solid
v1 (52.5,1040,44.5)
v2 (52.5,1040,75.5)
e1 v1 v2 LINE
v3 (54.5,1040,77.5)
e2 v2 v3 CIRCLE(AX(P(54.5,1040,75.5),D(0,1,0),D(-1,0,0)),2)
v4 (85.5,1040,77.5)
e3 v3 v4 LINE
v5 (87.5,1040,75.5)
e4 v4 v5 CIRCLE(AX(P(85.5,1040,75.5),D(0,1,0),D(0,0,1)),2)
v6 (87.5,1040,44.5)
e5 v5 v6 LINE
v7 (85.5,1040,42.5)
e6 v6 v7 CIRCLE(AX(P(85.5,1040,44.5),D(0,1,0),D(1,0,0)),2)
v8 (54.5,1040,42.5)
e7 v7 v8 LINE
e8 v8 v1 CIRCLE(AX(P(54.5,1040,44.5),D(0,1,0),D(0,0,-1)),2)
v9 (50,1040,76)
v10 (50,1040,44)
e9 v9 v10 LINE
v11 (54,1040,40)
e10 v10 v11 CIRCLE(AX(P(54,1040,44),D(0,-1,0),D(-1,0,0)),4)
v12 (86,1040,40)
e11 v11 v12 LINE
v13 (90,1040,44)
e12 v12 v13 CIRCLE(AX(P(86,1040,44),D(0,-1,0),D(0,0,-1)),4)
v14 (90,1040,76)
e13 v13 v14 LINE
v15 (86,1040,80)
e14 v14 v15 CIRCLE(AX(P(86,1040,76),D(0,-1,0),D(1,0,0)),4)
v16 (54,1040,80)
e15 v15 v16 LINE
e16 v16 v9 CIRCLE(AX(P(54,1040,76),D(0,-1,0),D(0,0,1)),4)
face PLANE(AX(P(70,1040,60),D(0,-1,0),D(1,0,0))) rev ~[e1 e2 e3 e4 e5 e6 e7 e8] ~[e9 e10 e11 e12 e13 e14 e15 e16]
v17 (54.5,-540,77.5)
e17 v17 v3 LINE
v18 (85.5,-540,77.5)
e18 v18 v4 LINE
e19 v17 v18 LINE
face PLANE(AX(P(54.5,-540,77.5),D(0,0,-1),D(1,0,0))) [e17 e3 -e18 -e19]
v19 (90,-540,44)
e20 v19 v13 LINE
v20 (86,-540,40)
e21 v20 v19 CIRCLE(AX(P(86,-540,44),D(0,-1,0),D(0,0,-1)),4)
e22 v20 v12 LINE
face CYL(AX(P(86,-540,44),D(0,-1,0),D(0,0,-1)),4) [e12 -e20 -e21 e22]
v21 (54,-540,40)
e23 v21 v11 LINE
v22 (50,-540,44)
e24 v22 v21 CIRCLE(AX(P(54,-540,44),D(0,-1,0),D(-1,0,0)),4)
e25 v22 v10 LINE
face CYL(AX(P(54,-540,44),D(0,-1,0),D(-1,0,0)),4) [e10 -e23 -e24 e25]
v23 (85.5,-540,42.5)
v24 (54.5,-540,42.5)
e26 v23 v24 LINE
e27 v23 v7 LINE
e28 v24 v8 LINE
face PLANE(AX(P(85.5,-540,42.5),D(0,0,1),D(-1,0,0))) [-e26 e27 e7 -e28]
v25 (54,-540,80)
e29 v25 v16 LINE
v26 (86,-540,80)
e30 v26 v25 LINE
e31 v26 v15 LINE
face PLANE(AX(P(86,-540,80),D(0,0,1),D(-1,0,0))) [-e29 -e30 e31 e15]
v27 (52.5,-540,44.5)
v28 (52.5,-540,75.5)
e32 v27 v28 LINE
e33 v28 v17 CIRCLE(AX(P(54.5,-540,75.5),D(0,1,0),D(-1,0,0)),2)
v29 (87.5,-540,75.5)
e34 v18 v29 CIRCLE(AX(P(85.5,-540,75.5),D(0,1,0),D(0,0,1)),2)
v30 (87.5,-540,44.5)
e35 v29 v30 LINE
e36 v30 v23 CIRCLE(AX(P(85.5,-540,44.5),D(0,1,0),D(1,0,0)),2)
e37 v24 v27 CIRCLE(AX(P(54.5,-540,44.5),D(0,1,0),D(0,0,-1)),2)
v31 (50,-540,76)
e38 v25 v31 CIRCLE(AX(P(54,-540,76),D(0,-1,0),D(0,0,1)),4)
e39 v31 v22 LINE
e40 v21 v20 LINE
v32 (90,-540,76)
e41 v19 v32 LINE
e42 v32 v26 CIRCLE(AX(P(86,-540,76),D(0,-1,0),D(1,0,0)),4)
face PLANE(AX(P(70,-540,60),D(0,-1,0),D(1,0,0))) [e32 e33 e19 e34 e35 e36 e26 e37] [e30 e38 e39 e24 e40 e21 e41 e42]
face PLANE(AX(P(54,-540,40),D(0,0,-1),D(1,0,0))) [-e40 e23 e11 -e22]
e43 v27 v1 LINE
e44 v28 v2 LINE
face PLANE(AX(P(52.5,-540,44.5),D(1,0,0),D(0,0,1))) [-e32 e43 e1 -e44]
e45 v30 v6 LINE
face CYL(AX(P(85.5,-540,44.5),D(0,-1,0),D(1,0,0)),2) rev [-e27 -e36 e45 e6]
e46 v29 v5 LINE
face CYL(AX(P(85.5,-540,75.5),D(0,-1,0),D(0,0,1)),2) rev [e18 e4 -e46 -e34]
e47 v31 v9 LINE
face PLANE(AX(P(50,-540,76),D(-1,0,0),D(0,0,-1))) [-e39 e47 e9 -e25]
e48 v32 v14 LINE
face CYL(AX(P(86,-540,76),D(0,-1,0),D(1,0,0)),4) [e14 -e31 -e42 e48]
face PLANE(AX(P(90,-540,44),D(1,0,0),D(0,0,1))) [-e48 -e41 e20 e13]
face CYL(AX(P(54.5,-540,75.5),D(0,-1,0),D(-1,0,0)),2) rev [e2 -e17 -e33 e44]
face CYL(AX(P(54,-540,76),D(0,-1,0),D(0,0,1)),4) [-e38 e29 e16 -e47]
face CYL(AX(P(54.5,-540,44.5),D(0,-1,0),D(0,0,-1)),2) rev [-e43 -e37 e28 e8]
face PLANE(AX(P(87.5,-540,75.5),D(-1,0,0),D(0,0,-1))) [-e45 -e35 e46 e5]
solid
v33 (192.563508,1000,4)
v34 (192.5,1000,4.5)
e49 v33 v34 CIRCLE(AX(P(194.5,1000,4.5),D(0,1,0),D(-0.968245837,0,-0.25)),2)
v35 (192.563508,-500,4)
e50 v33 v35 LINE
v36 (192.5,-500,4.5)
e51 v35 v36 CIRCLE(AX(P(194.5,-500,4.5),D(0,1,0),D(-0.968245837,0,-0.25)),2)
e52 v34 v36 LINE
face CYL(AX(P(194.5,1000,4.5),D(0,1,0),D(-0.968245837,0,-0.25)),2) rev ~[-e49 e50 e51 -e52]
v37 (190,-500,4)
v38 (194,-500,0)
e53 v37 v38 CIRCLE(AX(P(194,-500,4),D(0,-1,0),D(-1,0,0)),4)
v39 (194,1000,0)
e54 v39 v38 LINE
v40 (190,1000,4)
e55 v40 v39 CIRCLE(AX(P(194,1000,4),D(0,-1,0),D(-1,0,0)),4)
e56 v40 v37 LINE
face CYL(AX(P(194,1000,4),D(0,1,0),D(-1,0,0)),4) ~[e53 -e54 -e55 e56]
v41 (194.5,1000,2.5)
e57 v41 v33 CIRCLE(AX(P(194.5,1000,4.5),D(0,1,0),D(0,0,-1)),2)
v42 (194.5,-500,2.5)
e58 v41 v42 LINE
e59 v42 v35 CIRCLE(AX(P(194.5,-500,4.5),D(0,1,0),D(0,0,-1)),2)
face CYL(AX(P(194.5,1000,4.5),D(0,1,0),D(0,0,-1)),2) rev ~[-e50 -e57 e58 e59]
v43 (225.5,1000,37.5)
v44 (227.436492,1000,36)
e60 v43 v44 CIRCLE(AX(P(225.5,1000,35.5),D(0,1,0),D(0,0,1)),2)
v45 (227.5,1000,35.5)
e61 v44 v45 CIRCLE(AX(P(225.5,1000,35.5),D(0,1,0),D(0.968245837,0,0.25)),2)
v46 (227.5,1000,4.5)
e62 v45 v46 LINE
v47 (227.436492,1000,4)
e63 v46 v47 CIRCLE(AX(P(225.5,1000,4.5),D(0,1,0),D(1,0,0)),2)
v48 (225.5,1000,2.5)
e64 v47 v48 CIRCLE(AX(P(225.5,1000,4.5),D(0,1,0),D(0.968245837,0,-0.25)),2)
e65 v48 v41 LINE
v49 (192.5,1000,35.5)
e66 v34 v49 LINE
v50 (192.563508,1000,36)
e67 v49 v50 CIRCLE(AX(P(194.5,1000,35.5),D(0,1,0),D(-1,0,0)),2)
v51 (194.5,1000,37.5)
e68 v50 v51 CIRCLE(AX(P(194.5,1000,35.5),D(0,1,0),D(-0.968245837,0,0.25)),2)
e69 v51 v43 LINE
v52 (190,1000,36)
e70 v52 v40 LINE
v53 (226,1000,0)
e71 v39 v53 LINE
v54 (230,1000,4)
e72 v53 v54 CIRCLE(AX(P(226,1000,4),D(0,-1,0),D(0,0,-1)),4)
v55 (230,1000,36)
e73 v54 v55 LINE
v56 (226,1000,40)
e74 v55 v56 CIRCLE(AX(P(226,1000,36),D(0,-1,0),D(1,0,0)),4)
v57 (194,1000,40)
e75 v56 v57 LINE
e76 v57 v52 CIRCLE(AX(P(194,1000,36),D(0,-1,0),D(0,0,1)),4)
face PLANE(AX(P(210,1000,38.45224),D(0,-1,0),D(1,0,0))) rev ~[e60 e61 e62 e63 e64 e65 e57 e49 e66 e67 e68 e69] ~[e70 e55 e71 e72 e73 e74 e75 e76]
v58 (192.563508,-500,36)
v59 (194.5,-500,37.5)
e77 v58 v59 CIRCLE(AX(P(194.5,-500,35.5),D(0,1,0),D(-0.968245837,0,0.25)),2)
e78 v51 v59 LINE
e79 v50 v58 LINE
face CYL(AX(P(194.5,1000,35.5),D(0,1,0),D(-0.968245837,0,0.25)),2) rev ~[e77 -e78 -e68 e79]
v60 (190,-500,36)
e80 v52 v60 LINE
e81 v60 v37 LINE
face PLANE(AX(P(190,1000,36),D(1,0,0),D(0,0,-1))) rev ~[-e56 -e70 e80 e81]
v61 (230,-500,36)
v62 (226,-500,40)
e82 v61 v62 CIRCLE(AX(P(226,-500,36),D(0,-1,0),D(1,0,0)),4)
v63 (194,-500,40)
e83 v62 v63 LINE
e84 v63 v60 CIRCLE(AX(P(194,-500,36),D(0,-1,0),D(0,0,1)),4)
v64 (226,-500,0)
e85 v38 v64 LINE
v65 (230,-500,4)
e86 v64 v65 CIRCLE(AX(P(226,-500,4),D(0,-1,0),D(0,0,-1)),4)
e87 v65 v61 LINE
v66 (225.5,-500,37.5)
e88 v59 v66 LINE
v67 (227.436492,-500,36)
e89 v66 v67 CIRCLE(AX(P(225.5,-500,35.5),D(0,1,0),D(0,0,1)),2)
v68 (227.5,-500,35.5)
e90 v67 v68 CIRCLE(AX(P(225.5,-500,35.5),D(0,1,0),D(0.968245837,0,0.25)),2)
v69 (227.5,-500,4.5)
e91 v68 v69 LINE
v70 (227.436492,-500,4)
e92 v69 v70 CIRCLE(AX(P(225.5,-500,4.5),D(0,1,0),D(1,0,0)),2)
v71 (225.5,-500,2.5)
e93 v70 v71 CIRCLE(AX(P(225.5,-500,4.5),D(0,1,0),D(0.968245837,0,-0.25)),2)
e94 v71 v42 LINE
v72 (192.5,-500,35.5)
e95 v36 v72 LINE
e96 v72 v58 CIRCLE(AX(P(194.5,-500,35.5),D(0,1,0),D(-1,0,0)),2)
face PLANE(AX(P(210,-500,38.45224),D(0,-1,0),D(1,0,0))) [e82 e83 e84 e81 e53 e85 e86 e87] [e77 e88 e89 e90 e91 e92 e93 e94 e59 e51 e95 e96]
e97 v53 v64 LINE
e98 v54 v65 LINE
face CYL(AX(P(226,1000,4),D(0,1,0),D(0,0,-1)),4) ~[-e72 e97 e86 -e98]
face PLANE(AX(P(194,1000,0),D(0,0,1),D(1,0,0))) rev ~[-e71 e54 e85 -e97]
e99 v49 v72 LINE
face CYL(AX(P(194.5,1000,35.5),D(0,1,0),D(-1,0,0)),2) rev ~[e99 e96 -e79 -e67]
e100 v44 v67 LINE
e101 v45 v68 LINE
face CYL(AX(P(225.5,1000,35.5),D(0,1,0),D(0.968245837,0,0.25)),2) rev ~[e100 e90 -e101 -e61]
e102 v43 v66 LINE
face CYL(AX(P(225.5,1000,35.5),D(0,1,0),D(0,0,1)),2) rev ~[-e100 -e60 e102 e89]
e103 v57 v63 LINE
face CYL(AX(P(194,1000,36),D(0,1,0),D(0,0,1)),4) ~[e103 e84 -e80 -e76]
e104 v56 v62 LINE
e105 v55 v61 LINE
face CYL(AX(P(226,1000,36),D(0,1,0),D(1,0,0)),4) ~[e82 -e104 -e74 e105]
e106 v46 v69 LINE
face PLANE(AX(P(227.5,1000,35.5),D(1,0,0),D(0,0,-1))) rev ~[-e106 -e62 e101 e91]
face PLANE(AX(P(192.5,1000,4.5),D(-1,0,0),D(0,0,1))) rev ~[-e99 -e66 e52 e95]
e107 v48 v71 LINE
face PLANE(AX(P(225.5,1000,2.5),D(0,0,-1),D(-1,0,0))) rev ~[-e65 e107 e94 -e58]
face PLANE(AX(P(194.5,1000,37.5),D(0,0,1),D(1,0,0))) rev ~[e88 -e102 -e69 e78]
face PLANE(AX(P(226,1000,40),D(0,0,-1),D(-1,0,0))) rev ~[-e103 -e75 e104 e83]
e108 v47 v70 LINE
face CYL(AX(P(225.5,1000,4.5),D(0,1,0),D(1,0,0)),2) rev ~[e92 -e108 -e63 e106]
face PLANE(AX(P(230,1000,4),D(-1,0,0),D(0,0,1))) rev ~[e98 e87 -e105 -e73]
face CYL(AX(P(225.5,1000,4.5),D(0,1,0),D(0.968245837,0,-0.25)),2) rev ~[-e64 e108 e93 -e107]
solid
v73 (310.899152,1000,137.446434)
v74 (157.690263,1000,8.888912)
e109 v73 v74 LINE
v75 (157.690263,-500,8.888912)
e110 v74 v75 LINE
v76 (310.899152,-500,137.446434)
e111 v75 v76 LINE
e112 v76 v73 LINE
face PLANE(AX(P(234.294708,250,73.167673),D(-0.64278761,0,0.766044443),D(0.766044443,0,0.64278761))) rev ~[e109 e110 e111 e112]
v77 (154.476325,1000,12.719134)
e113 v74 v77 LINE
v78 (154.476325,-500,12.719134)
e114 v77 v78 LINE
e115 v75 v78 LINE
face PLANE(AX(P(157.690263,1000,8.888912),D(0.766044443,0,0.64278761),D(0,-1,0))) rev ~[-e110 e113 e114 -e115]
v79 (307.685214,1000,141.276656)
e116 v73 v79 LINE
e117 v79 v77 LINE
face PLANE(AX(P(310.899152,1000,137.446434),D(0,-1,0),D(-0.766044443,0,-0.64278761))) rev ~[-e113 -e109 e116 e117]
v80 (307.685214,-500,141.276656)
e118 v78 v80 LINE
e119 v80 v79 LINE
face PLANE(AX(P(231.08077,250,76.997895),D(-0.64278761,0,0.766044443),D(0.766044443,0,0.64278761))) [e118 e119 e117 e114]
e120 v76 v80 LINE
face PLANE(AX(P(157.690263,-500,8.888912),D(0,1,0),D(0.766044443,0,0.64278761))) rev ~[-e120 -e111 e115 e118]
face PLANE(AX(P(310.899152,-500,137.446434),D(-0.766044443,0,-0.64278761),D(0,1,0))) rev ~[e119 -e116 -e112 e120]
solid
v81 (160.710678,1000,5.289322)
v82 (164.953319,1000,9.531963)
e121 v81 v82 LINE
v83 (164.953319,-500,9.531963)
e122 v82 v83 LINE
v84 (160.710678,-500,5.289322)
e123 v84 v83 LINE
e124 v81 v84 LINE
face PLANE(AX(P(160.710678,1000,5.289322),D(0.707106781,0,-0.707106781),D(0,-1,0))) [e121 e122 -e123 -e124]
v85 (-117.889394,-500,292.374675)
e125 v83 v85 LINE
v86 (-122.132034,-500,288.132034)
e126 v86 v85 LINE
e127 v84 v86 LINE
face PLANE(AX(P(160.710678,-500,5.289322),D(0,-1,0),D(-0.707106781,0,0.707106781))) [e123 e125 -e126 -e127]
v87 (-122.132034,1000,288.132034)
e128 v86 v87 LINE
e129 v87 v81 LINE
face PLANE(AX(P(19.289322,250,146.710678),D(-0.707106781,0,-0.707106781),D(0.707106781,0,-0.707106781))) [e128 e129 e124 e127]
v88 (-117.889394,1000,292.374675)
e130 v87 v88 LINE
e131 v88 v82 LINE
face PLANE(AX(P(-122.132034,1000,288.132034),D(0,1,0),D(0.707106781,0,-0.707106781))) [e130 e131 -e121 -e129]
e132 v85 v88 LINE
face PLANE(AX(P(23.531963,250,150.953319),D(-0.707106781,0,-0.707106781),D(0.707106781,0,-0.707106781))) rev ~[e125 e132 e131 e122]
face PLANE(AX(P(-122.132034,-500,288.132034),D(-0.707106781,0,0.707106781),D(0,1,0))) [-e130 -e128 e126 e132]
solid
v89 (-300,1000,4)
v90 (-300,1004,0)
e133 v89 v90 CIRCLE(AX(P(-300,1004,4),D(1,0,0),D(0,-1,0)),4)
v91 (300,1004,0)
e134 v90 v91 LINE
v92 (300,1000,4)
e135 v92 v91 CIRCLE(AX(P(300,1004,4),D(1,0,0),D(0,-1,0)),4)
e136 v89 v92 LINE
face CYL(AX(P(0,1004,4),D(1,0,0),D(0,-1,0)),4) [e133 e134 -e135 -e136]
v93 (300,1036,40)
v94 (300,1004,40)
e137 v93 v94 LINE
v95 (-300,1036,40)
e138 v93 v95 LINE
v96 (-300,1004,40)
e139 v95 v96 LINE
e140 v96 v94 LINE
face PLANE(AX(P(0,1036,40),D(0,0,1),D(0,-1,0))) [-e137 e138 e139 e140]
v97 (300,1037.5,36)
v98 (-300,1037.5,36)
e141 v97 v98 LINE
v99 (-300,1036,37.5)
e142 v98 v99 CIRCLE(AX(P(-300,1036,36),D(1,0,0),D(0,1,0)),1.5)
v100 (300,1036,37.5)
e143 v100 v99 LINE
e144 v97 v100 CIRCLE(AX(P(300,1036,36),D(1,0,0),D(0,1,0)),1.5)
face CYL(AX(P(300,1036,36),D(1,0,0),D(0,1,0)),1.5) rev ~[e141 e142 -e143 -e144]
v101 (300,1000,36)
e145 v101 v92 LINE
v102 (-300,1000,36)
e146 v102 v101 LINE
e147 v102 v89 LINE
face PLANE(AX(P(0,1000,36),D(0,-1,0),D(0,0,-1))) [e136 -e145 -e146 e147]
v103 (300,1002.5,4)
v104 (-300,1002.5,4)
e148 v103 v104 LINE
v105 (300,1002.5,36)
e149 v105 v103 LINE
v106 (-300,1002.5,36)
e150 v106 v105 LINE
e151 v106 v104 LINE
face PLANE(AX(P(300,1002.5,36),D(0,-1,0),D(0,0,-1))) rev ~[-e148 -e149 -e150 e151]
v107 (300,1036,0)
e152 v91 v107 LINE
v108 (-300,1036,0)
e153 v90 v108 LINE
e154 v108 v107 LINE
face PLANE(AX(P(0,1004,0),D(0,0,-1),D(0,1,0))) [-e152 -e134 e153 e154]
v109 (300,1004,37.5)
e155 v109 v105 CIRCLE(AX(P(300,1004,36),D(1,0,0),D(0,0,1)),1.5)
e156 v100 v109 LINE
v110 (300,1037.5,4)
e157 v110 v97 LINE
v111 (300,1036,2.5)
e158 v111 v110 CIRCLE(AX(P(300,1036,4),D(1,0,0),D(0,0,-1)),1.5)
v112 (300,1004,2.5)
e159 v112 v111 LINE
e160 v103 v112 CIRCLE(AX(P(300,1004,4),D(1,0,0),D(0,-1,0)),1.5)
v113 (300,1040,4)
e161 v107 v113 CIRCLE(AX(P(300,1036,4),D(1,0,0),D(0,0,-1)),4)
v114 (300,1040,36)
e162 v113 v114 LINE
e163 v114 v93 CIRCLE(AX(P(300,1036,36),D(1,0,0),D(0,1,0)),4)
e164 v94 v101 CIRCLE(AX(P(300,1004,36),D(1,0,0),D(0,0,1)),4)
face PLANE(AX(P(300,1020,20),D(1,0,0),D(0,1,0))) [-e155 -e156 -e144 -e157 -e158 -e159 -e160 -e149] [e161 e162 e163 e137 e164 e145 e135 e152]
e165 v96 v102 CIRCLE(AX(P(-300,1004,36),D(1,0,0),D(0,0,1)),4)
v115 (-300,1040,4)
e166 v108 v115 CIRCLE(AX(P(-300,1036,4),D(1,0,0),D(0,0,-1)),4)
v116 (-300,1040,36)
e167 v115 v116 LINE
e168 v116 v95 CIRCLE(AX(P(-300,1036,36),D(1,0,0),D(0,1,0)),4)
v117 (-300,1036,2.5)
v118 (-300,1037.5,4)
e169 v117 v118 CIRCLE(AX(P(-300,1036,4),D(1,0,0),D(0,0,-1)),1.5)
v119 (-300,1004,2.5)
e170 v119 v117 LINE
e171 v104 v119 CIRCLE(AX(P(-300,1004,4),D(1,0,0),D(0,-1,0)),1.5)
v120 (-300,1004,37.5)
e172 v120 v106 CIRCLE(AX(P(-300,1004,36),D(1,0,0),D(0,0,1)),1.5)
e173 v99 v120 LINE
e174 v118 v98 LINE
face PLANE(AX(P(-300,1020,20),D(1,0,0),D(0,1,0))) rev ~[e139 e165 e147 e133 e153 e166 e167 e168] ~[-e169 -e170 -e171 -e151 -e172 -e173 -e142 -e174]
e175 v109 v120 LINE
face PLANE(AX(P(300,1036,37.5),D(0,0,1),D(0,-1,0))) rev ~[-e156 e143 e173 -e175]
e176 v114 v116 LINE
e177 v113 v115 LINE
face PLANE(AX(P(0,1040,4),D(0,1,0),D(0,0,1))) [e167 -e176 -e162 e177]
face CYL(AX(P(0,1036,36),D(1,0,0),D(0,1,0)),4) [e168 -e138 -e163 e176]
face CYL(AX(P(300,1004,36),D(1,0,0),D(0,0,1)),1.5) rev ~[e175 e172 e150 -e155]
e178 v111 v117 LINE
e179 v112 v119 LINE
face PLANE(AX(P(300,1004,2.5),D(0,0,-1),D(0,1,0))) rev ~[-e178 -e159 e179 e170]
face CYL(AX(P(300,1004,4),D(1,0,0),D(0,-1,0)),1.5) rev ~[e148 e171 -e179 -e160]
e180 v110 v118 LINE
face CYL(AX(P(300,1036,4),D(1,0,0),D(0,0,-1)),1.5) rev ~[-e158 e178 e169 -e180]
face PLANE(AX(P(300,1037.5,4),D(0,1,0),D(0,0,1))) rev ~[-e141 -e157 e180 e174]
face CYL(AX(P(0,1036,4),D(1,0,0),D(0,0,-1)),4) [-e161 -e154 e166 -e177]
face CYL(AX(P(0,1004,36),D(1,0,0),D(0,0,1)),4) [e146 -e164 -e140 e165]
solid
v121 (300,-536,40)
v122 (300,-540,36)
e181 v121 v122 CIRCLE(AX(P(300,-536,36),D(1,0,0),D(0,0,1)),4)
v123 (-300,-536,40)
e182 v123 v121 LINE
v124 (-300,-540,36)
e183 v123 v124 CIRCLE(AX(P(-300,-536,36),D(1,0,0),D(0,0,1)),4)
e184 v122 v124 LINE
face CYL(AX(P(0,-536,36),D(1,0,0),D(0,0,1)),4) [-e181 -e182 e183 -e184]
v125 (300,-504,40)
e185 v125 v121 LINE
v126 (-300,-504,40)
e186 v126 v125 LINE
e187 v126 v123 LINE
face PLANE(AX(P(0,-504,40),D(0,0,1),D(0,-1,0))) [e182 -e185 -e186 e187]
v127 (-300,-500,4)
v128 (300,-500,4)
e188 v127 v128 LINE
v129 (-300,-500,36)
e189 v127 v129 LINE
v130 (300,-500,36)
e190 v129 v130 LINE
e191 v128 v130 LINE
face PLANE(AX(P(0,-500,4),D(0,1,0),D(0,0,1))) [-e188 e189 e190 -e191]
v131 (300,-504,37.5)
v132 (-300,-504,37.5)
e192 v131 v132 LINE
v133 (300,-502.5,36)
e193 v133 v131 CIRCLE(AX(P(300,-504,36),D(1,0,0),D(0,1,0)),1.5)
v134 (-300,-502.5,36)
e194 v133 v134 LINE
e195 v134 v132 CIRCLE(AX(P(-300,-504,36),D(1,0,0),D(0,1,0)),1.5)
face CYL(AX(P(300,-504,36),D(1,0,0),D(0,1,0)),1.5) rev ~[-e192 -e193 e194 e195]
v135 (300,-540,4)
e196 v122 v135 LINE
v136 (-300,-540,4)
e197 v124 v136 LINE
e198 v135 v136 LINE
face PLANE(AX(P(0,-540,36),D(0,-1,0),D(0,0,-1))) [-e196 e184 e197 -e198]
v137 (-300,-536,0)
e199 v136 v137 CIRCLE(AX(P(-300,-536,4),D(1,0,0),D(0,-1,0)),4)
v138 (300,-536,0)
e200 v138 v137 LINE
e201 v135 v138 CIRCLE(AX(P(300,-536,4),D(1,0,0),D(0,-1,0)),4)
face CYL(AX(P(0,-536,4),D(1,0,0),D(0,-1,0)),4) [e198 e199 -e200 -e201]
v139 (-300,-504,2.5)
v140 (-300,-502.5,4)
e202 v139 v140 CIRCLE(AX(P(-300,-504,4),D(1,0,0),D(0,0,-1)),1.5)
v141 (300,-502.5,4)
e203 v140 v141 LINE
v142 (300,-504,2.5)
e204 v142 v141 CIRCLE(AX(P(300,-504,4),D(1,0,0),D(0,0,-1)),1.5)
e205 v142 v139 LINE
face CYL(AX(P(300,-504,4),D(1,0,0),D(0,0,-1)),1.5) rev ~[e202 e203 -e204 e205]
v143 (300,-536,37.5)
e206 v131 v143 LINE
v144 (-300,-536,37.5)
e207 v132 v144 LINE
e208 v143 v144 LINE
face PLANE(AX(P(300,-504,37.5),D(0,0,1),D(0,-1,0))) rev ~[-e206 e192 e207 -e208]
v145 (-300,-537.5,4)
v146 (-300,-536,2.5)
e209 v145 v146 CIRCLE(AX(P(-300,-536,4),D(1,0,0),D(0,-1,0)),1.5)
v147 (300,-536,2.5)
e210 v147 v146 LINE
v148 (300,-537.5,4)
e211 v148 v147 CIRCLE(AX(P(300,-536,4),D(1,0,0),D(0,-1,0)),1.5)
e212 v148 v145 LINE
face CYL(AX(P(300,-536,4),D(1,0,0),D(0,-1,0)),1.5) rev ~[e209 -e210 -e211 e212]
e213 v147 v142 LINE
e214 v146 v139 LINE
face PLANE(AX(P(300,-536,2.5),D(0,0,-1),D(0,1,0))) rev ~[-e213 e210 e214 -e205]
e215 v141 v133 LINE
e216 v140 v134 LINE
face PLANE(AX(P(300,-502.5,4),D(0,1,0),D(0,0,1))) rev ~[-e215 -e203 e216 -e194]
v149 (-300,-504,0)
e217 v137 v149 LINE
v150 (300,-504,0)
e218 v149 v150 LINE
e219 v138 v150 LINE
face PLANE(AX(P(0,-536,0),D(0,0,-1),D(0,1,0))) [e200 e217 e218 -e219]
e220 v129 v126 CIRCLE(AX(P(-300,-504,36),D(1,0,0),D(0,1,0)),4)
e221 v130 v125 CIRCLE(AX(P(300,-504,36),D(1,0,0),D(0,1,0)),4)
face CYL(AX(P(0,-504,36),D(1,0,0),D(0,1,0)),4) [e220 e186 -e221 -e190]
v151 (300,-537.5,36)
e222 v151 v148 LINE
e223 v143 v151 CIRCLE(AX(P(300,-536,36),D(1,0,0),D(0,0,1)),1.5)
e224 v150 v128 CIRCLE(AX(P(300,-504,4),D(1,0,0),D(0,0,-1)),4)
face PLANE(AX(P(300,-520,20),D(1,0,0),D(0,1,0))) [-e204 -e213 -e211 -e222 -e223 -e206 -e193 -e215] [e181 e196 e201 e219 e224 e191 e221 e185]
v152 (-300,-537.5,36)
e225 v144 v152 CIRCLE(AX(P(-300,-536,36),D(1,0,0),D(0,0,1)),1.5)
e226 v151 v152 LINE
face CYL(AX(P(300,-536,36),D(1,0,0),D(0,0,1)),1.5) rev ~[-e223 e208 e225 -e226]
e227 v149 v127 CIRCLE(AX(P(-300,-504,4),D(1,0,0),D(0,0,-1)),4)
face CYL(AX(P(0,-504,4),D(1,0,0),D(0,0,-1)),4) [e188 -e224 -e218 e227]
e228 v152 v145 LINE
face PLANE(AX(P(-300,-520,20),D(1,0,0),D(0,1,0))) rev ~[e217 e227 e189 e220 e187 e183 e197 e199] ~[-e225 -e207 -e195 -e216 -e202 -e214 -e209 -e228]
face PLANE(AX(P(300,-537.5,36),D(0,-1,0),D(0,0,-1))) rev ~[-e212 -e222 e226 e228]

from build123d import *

# Parameters (mm, degrees)
F1_DEPTH  = 300
F2_T      = -2.5
F2_2_T    = -2.5
F4_DEPTH  = 1000
F6_DEPTH  = 1580
F8_DEPTH  = 1500
F13_DEPTH = 6
F14_DEPTH = 5


with BuildPart() as f1:
    # F0 (on Right) → F1 (new body, symmetric)
    with BuildSketch(Plane.YZ):
        with BuildLine():
            Line((-536, 0), (-504, 0))
            ThreePointArc((-504, 0), (-501.1715728753, 1.1715728753), (-500, 4))
            Line((-500, 4), (-500, 36))
            ThreePointArc((-500, 36), (-501.1715728753, 38.8284271247), (-504, 40))
            Line((-504, 40), (-536, 40))
            ThreePointArc((-536, 40), (-538.8284271247, 38.8284271247), (-540, 36))
            Line((-540, 36), (-540, 4))
            ThreePointArc((-540, 4), (-538.8284271247, 1.1715728753), (-536, 0))
        make_face()
    extrude(amount=F1_DEPTH, both=True)

    # F2
    f2_openings = [f1.faces().sort_by_distance(p)[0] for p in [
        (300, -520, 20),
    ]]
    offset(amount=F2_T, openings=f2_openings)


with BuildPart() as f1b:
    # F0 (on Right) → F1, piece 2 (new body, symmetric)
    with BuildSketch(Plane.YZ):
        with BuildLine():
            Line((1036, 40), (1004, 40))
            ThreePointArc((1004, 40), (1001.1715728753, 38.8284271247), (1000, 36))
            Line((1000, 36), (1000, 4))
            ThreePointArc((1000, 4), (1001.1715728753, 1.1715728753), (1004, 0))
            Line((1004, 0), (1036, 0))
            ThreePointArc((1036, 0), (1038.8284271247, 1.1715728753), (1040, 4))
            Line((1040, 4), (1040, 36))
            ThreePointArc((1040, 36), (1038.8284271247, 38.8284271247), (1036, 40))
        make_face()
    extrude(amount=F1_DEPTH, both=True)

    # F2#2
    f2_2_openings = [f1b.faces().sort_by_distance(p)[0] for p in [
        (300, 1020, 20),
    ]]
    offset(amount=F2_2_T, openings=f2_2_openings)


with BuildPart() as f4_tool:
    # F3 (on face) → F4 (new body)
    with BuildSketch(Plane.YZ.offset(300)):
        with BuildLine():
            Line((1002.5, 36), (1002.5, 4))
            ThreePointArc((1002.5, 4), (1002.9393398282, 2.9393398282), (1004, 2.5))
            Line((1004, 2.5), (1036, 2.5))
            ThreePointArc((1036, 2.5), (1037.0606601718, 2.9393398282), (1037.5, 4))
            Line((1037.5, 4), (1037.5, 36))
            ThreePointArc((1037.5, 36), (1037.0606601718, 37.0606601718), (1036, 37.5))
            Line((1036, 37.5), (1004, 37.5))
            ThreePointArc((1004, 37.5), (1002.9393398282, 37.0606601718), (1002.5, 36))
        make_face()
        with BuildLine():
            Line((-502.5, 4), (-502.5, 36))
            ThreePointArc((-502.5, 36), (-502.9393398282, 37.0606601718), (-504, 37.5))
            Line((-504, 37.5), (-536, 37.5))
            ThreePointArc((-536, 37.5), (-537.0606601718, 37.0606601718), (-537.5, 36))
            Line((-537.5, 36), (-537.5, 4))
            ThreePointArc((-537.5, 4), (-537.0606601718, 2.9393398282), (-536, 2.5))
            Line((-536, 2.5), (-504, 2.5))
            ThreePointArc((-504, 2.5), (-502.9393398282, 2.9393398282), (-502.5, 4))
        make_face()
    extrude(amount=-F4_DEPTH)


with BuildPart() as f1_1:
    add(f1.part)

    # F4: cut by f4_tool
    add(f4_tool.part, mode=Mode.SUBTRACT)


with BuildPart() as f1b_1:
    add(f1b.part)

    # F4: cut by f4_tool
    add(f4_tool.part, mode=Mode.SUBTRACT)


with BuildPart() as f6:
    # F5 (on face) → F6 (new body, through all)
    with BuildSketch(Plane.XZ.offset(540)):
        with BuildLine():
            Line((54, 40), (86, 40))
            ThreePointArc((86, 40), (88.8284271247, 41.1715728753), (90, 44))
            Line((90, 44), (90, 76))
            ThreePointArc((90, 76), (88.8284271247, 78.8284271247), (86, 80))
            Line((86, 80), (54, 80))
            ThreePointArc((54, 80), (51.1715728753, 78.8284271247), (50, 76))
            Line((50, 76), (50, 44))
            ThreePointArc((50, 44), (51.1715728753, 41.1715728753), (54, 40))
        make_face()
        with BuildLine():
            ThreePointArc((52.5, 75.5), (53.0857864376, 76.9142135624), (54.5, 77.5))
            Line((54.5, 77.5), (85.5, 77.5))
            ThreePointArc((85.5, 77.5), (86.9142135624, 76.9142135624), (87.5, 75.5))
            Line((87.5, 75.5), (87.5, 44.5))
            ThreePointArc((87.5, 44.5), (86.9142135624, 43.0857864376), (85.5, 42.5))
            Line((85.5, 42.5), (54.5, 42.5))
            ThreePointArc((54.5, 42.5), (53.0857864376, 43.0857864376), (52.5, 44.5))
            Line((52.5, 44.5), (52.5, 75.5))
        make_face(mode=Mode.SUBTRACT)
    extrude(amount=-F6_DEPTH)


with BuildPart() as f8:
    # F7 (on face) → F8 (new body, through all)
    with BuildSketch(Plane.XZ.offset(-1000)):
        with BuildLine():
            ThreePointArc((230, 36), (228.8284271247, 38.8284271247), (226, 40))
            Line((226, 40), (194, 40))
            ThreePointArc((194, 40), (191.1715728753, 38.8284271247), (190, 36))
            Line((190, 36), (192.5635083269, 36))
            ThreePointArc((192.5635083269, 36), (193.2752551286, 37.0811388301), (194.5, 37.5))
            Line((194.5, 37.5), (225.5, 37.5))
            ThreePointArc((225.5, 37.5), (226.7247448714, 37.0811388301), (227.4364916731, 36))
            Line((227.4364916731, 36), (230, 36))
        make_face()
        with BuildLine():
            Line((192.5635083269, 36), (190, 36))
            Line((190, 36), (190, 4))
            Line((190, 4), (192.5635083269, 4))
            ThreePointArc((192.5635083269, 4), (192.5159406075, 4.247991415), (192.5, 4.5))
            Line((192.5, 4.5), (192.5, 35.5))
            ThreePointArc((192.5, 35.5), (192.5159406075, 35.752008585), (192.5635083269, 36))
        make_face()
        with BuildLine():
            ThreePointArc((226, 0), (228.8284271247, 1.1715728753), (230, 4))
            Line((230, 4), (227.4364916731, 4))
            ThreePointArc((227.4364916731, 4), (226.7247448714, 2.9188611699), (225.5, 2.5))
            Line((225.5, 2.5), (194.5, 2.5))
            ThreePointArc((194.5, 2.5), (193.2752551286, 2.9188611699), (192.5635083269, 4))
            Line((192.5635083269, 4), (190, 4))
            ThreePointArc((190, 4), (191.1715728753, 1.1715728753), (194, 0))
            Line((194, 0), (226, 0))
        make_face()
        with BuildLine():
            Line((230, 4), (230, 36))
            Line((230, 36), (227.4364916731, 36))
            ThreePointArc((227.4364916731, 36), (227.4840593925, 35.752008585), (227.5, 35.5))
            Line((227.5, 35.5), (227.5, 4.5))
            ThreePointArc((227.5, 4.5), (227.4840593925, 4.247991415), (227.4364916731, 4))
            Line((227.4364916731, 4), (230, 4))
        make_face()
    extrude(amount=F8_DEPTH)


with BuildPart() as f13:
    # F10 (on face) → F13 (new body)
    with BuildSketch(Plane(origin=(83, 0, 83), x_dir=(0.7071067812, 0, -0.7071067812), z_dir=(-0.7071067812, 0, -0.7071067812))):
        Polygon((109.8994949366, -1000), (109.8994949366, 500), (-237.5878784787, 500), (-290.1005050634, 500), (-290.1005050634, -1000), (-237.5878784787, -1000), align=None)
    extrude(amount=-F13_DEPTH)


with BuildPart() as f14:
    # F12 (on face) → F14 (new body)
    with BuildSketch(Plane(origin=(60.7768835674, 0, -72.4310693382), x_dir=(0.7660444431, 0, 0.6427876097), z_dir=(-0.6427876097, 0, 0.7660444431))):
        Polygon((126.5114324917, 1000), (126.5114324917, -500), (326.5114324917, -500), (326.5114324917, 1000), (252.9536868844, 1000), align=None)
    extrude(amount=F14_DEPTH)


solid = Compound([f1_1.part, f1b_1.part, f6.part, f8.part, f13.part, f14.part])
